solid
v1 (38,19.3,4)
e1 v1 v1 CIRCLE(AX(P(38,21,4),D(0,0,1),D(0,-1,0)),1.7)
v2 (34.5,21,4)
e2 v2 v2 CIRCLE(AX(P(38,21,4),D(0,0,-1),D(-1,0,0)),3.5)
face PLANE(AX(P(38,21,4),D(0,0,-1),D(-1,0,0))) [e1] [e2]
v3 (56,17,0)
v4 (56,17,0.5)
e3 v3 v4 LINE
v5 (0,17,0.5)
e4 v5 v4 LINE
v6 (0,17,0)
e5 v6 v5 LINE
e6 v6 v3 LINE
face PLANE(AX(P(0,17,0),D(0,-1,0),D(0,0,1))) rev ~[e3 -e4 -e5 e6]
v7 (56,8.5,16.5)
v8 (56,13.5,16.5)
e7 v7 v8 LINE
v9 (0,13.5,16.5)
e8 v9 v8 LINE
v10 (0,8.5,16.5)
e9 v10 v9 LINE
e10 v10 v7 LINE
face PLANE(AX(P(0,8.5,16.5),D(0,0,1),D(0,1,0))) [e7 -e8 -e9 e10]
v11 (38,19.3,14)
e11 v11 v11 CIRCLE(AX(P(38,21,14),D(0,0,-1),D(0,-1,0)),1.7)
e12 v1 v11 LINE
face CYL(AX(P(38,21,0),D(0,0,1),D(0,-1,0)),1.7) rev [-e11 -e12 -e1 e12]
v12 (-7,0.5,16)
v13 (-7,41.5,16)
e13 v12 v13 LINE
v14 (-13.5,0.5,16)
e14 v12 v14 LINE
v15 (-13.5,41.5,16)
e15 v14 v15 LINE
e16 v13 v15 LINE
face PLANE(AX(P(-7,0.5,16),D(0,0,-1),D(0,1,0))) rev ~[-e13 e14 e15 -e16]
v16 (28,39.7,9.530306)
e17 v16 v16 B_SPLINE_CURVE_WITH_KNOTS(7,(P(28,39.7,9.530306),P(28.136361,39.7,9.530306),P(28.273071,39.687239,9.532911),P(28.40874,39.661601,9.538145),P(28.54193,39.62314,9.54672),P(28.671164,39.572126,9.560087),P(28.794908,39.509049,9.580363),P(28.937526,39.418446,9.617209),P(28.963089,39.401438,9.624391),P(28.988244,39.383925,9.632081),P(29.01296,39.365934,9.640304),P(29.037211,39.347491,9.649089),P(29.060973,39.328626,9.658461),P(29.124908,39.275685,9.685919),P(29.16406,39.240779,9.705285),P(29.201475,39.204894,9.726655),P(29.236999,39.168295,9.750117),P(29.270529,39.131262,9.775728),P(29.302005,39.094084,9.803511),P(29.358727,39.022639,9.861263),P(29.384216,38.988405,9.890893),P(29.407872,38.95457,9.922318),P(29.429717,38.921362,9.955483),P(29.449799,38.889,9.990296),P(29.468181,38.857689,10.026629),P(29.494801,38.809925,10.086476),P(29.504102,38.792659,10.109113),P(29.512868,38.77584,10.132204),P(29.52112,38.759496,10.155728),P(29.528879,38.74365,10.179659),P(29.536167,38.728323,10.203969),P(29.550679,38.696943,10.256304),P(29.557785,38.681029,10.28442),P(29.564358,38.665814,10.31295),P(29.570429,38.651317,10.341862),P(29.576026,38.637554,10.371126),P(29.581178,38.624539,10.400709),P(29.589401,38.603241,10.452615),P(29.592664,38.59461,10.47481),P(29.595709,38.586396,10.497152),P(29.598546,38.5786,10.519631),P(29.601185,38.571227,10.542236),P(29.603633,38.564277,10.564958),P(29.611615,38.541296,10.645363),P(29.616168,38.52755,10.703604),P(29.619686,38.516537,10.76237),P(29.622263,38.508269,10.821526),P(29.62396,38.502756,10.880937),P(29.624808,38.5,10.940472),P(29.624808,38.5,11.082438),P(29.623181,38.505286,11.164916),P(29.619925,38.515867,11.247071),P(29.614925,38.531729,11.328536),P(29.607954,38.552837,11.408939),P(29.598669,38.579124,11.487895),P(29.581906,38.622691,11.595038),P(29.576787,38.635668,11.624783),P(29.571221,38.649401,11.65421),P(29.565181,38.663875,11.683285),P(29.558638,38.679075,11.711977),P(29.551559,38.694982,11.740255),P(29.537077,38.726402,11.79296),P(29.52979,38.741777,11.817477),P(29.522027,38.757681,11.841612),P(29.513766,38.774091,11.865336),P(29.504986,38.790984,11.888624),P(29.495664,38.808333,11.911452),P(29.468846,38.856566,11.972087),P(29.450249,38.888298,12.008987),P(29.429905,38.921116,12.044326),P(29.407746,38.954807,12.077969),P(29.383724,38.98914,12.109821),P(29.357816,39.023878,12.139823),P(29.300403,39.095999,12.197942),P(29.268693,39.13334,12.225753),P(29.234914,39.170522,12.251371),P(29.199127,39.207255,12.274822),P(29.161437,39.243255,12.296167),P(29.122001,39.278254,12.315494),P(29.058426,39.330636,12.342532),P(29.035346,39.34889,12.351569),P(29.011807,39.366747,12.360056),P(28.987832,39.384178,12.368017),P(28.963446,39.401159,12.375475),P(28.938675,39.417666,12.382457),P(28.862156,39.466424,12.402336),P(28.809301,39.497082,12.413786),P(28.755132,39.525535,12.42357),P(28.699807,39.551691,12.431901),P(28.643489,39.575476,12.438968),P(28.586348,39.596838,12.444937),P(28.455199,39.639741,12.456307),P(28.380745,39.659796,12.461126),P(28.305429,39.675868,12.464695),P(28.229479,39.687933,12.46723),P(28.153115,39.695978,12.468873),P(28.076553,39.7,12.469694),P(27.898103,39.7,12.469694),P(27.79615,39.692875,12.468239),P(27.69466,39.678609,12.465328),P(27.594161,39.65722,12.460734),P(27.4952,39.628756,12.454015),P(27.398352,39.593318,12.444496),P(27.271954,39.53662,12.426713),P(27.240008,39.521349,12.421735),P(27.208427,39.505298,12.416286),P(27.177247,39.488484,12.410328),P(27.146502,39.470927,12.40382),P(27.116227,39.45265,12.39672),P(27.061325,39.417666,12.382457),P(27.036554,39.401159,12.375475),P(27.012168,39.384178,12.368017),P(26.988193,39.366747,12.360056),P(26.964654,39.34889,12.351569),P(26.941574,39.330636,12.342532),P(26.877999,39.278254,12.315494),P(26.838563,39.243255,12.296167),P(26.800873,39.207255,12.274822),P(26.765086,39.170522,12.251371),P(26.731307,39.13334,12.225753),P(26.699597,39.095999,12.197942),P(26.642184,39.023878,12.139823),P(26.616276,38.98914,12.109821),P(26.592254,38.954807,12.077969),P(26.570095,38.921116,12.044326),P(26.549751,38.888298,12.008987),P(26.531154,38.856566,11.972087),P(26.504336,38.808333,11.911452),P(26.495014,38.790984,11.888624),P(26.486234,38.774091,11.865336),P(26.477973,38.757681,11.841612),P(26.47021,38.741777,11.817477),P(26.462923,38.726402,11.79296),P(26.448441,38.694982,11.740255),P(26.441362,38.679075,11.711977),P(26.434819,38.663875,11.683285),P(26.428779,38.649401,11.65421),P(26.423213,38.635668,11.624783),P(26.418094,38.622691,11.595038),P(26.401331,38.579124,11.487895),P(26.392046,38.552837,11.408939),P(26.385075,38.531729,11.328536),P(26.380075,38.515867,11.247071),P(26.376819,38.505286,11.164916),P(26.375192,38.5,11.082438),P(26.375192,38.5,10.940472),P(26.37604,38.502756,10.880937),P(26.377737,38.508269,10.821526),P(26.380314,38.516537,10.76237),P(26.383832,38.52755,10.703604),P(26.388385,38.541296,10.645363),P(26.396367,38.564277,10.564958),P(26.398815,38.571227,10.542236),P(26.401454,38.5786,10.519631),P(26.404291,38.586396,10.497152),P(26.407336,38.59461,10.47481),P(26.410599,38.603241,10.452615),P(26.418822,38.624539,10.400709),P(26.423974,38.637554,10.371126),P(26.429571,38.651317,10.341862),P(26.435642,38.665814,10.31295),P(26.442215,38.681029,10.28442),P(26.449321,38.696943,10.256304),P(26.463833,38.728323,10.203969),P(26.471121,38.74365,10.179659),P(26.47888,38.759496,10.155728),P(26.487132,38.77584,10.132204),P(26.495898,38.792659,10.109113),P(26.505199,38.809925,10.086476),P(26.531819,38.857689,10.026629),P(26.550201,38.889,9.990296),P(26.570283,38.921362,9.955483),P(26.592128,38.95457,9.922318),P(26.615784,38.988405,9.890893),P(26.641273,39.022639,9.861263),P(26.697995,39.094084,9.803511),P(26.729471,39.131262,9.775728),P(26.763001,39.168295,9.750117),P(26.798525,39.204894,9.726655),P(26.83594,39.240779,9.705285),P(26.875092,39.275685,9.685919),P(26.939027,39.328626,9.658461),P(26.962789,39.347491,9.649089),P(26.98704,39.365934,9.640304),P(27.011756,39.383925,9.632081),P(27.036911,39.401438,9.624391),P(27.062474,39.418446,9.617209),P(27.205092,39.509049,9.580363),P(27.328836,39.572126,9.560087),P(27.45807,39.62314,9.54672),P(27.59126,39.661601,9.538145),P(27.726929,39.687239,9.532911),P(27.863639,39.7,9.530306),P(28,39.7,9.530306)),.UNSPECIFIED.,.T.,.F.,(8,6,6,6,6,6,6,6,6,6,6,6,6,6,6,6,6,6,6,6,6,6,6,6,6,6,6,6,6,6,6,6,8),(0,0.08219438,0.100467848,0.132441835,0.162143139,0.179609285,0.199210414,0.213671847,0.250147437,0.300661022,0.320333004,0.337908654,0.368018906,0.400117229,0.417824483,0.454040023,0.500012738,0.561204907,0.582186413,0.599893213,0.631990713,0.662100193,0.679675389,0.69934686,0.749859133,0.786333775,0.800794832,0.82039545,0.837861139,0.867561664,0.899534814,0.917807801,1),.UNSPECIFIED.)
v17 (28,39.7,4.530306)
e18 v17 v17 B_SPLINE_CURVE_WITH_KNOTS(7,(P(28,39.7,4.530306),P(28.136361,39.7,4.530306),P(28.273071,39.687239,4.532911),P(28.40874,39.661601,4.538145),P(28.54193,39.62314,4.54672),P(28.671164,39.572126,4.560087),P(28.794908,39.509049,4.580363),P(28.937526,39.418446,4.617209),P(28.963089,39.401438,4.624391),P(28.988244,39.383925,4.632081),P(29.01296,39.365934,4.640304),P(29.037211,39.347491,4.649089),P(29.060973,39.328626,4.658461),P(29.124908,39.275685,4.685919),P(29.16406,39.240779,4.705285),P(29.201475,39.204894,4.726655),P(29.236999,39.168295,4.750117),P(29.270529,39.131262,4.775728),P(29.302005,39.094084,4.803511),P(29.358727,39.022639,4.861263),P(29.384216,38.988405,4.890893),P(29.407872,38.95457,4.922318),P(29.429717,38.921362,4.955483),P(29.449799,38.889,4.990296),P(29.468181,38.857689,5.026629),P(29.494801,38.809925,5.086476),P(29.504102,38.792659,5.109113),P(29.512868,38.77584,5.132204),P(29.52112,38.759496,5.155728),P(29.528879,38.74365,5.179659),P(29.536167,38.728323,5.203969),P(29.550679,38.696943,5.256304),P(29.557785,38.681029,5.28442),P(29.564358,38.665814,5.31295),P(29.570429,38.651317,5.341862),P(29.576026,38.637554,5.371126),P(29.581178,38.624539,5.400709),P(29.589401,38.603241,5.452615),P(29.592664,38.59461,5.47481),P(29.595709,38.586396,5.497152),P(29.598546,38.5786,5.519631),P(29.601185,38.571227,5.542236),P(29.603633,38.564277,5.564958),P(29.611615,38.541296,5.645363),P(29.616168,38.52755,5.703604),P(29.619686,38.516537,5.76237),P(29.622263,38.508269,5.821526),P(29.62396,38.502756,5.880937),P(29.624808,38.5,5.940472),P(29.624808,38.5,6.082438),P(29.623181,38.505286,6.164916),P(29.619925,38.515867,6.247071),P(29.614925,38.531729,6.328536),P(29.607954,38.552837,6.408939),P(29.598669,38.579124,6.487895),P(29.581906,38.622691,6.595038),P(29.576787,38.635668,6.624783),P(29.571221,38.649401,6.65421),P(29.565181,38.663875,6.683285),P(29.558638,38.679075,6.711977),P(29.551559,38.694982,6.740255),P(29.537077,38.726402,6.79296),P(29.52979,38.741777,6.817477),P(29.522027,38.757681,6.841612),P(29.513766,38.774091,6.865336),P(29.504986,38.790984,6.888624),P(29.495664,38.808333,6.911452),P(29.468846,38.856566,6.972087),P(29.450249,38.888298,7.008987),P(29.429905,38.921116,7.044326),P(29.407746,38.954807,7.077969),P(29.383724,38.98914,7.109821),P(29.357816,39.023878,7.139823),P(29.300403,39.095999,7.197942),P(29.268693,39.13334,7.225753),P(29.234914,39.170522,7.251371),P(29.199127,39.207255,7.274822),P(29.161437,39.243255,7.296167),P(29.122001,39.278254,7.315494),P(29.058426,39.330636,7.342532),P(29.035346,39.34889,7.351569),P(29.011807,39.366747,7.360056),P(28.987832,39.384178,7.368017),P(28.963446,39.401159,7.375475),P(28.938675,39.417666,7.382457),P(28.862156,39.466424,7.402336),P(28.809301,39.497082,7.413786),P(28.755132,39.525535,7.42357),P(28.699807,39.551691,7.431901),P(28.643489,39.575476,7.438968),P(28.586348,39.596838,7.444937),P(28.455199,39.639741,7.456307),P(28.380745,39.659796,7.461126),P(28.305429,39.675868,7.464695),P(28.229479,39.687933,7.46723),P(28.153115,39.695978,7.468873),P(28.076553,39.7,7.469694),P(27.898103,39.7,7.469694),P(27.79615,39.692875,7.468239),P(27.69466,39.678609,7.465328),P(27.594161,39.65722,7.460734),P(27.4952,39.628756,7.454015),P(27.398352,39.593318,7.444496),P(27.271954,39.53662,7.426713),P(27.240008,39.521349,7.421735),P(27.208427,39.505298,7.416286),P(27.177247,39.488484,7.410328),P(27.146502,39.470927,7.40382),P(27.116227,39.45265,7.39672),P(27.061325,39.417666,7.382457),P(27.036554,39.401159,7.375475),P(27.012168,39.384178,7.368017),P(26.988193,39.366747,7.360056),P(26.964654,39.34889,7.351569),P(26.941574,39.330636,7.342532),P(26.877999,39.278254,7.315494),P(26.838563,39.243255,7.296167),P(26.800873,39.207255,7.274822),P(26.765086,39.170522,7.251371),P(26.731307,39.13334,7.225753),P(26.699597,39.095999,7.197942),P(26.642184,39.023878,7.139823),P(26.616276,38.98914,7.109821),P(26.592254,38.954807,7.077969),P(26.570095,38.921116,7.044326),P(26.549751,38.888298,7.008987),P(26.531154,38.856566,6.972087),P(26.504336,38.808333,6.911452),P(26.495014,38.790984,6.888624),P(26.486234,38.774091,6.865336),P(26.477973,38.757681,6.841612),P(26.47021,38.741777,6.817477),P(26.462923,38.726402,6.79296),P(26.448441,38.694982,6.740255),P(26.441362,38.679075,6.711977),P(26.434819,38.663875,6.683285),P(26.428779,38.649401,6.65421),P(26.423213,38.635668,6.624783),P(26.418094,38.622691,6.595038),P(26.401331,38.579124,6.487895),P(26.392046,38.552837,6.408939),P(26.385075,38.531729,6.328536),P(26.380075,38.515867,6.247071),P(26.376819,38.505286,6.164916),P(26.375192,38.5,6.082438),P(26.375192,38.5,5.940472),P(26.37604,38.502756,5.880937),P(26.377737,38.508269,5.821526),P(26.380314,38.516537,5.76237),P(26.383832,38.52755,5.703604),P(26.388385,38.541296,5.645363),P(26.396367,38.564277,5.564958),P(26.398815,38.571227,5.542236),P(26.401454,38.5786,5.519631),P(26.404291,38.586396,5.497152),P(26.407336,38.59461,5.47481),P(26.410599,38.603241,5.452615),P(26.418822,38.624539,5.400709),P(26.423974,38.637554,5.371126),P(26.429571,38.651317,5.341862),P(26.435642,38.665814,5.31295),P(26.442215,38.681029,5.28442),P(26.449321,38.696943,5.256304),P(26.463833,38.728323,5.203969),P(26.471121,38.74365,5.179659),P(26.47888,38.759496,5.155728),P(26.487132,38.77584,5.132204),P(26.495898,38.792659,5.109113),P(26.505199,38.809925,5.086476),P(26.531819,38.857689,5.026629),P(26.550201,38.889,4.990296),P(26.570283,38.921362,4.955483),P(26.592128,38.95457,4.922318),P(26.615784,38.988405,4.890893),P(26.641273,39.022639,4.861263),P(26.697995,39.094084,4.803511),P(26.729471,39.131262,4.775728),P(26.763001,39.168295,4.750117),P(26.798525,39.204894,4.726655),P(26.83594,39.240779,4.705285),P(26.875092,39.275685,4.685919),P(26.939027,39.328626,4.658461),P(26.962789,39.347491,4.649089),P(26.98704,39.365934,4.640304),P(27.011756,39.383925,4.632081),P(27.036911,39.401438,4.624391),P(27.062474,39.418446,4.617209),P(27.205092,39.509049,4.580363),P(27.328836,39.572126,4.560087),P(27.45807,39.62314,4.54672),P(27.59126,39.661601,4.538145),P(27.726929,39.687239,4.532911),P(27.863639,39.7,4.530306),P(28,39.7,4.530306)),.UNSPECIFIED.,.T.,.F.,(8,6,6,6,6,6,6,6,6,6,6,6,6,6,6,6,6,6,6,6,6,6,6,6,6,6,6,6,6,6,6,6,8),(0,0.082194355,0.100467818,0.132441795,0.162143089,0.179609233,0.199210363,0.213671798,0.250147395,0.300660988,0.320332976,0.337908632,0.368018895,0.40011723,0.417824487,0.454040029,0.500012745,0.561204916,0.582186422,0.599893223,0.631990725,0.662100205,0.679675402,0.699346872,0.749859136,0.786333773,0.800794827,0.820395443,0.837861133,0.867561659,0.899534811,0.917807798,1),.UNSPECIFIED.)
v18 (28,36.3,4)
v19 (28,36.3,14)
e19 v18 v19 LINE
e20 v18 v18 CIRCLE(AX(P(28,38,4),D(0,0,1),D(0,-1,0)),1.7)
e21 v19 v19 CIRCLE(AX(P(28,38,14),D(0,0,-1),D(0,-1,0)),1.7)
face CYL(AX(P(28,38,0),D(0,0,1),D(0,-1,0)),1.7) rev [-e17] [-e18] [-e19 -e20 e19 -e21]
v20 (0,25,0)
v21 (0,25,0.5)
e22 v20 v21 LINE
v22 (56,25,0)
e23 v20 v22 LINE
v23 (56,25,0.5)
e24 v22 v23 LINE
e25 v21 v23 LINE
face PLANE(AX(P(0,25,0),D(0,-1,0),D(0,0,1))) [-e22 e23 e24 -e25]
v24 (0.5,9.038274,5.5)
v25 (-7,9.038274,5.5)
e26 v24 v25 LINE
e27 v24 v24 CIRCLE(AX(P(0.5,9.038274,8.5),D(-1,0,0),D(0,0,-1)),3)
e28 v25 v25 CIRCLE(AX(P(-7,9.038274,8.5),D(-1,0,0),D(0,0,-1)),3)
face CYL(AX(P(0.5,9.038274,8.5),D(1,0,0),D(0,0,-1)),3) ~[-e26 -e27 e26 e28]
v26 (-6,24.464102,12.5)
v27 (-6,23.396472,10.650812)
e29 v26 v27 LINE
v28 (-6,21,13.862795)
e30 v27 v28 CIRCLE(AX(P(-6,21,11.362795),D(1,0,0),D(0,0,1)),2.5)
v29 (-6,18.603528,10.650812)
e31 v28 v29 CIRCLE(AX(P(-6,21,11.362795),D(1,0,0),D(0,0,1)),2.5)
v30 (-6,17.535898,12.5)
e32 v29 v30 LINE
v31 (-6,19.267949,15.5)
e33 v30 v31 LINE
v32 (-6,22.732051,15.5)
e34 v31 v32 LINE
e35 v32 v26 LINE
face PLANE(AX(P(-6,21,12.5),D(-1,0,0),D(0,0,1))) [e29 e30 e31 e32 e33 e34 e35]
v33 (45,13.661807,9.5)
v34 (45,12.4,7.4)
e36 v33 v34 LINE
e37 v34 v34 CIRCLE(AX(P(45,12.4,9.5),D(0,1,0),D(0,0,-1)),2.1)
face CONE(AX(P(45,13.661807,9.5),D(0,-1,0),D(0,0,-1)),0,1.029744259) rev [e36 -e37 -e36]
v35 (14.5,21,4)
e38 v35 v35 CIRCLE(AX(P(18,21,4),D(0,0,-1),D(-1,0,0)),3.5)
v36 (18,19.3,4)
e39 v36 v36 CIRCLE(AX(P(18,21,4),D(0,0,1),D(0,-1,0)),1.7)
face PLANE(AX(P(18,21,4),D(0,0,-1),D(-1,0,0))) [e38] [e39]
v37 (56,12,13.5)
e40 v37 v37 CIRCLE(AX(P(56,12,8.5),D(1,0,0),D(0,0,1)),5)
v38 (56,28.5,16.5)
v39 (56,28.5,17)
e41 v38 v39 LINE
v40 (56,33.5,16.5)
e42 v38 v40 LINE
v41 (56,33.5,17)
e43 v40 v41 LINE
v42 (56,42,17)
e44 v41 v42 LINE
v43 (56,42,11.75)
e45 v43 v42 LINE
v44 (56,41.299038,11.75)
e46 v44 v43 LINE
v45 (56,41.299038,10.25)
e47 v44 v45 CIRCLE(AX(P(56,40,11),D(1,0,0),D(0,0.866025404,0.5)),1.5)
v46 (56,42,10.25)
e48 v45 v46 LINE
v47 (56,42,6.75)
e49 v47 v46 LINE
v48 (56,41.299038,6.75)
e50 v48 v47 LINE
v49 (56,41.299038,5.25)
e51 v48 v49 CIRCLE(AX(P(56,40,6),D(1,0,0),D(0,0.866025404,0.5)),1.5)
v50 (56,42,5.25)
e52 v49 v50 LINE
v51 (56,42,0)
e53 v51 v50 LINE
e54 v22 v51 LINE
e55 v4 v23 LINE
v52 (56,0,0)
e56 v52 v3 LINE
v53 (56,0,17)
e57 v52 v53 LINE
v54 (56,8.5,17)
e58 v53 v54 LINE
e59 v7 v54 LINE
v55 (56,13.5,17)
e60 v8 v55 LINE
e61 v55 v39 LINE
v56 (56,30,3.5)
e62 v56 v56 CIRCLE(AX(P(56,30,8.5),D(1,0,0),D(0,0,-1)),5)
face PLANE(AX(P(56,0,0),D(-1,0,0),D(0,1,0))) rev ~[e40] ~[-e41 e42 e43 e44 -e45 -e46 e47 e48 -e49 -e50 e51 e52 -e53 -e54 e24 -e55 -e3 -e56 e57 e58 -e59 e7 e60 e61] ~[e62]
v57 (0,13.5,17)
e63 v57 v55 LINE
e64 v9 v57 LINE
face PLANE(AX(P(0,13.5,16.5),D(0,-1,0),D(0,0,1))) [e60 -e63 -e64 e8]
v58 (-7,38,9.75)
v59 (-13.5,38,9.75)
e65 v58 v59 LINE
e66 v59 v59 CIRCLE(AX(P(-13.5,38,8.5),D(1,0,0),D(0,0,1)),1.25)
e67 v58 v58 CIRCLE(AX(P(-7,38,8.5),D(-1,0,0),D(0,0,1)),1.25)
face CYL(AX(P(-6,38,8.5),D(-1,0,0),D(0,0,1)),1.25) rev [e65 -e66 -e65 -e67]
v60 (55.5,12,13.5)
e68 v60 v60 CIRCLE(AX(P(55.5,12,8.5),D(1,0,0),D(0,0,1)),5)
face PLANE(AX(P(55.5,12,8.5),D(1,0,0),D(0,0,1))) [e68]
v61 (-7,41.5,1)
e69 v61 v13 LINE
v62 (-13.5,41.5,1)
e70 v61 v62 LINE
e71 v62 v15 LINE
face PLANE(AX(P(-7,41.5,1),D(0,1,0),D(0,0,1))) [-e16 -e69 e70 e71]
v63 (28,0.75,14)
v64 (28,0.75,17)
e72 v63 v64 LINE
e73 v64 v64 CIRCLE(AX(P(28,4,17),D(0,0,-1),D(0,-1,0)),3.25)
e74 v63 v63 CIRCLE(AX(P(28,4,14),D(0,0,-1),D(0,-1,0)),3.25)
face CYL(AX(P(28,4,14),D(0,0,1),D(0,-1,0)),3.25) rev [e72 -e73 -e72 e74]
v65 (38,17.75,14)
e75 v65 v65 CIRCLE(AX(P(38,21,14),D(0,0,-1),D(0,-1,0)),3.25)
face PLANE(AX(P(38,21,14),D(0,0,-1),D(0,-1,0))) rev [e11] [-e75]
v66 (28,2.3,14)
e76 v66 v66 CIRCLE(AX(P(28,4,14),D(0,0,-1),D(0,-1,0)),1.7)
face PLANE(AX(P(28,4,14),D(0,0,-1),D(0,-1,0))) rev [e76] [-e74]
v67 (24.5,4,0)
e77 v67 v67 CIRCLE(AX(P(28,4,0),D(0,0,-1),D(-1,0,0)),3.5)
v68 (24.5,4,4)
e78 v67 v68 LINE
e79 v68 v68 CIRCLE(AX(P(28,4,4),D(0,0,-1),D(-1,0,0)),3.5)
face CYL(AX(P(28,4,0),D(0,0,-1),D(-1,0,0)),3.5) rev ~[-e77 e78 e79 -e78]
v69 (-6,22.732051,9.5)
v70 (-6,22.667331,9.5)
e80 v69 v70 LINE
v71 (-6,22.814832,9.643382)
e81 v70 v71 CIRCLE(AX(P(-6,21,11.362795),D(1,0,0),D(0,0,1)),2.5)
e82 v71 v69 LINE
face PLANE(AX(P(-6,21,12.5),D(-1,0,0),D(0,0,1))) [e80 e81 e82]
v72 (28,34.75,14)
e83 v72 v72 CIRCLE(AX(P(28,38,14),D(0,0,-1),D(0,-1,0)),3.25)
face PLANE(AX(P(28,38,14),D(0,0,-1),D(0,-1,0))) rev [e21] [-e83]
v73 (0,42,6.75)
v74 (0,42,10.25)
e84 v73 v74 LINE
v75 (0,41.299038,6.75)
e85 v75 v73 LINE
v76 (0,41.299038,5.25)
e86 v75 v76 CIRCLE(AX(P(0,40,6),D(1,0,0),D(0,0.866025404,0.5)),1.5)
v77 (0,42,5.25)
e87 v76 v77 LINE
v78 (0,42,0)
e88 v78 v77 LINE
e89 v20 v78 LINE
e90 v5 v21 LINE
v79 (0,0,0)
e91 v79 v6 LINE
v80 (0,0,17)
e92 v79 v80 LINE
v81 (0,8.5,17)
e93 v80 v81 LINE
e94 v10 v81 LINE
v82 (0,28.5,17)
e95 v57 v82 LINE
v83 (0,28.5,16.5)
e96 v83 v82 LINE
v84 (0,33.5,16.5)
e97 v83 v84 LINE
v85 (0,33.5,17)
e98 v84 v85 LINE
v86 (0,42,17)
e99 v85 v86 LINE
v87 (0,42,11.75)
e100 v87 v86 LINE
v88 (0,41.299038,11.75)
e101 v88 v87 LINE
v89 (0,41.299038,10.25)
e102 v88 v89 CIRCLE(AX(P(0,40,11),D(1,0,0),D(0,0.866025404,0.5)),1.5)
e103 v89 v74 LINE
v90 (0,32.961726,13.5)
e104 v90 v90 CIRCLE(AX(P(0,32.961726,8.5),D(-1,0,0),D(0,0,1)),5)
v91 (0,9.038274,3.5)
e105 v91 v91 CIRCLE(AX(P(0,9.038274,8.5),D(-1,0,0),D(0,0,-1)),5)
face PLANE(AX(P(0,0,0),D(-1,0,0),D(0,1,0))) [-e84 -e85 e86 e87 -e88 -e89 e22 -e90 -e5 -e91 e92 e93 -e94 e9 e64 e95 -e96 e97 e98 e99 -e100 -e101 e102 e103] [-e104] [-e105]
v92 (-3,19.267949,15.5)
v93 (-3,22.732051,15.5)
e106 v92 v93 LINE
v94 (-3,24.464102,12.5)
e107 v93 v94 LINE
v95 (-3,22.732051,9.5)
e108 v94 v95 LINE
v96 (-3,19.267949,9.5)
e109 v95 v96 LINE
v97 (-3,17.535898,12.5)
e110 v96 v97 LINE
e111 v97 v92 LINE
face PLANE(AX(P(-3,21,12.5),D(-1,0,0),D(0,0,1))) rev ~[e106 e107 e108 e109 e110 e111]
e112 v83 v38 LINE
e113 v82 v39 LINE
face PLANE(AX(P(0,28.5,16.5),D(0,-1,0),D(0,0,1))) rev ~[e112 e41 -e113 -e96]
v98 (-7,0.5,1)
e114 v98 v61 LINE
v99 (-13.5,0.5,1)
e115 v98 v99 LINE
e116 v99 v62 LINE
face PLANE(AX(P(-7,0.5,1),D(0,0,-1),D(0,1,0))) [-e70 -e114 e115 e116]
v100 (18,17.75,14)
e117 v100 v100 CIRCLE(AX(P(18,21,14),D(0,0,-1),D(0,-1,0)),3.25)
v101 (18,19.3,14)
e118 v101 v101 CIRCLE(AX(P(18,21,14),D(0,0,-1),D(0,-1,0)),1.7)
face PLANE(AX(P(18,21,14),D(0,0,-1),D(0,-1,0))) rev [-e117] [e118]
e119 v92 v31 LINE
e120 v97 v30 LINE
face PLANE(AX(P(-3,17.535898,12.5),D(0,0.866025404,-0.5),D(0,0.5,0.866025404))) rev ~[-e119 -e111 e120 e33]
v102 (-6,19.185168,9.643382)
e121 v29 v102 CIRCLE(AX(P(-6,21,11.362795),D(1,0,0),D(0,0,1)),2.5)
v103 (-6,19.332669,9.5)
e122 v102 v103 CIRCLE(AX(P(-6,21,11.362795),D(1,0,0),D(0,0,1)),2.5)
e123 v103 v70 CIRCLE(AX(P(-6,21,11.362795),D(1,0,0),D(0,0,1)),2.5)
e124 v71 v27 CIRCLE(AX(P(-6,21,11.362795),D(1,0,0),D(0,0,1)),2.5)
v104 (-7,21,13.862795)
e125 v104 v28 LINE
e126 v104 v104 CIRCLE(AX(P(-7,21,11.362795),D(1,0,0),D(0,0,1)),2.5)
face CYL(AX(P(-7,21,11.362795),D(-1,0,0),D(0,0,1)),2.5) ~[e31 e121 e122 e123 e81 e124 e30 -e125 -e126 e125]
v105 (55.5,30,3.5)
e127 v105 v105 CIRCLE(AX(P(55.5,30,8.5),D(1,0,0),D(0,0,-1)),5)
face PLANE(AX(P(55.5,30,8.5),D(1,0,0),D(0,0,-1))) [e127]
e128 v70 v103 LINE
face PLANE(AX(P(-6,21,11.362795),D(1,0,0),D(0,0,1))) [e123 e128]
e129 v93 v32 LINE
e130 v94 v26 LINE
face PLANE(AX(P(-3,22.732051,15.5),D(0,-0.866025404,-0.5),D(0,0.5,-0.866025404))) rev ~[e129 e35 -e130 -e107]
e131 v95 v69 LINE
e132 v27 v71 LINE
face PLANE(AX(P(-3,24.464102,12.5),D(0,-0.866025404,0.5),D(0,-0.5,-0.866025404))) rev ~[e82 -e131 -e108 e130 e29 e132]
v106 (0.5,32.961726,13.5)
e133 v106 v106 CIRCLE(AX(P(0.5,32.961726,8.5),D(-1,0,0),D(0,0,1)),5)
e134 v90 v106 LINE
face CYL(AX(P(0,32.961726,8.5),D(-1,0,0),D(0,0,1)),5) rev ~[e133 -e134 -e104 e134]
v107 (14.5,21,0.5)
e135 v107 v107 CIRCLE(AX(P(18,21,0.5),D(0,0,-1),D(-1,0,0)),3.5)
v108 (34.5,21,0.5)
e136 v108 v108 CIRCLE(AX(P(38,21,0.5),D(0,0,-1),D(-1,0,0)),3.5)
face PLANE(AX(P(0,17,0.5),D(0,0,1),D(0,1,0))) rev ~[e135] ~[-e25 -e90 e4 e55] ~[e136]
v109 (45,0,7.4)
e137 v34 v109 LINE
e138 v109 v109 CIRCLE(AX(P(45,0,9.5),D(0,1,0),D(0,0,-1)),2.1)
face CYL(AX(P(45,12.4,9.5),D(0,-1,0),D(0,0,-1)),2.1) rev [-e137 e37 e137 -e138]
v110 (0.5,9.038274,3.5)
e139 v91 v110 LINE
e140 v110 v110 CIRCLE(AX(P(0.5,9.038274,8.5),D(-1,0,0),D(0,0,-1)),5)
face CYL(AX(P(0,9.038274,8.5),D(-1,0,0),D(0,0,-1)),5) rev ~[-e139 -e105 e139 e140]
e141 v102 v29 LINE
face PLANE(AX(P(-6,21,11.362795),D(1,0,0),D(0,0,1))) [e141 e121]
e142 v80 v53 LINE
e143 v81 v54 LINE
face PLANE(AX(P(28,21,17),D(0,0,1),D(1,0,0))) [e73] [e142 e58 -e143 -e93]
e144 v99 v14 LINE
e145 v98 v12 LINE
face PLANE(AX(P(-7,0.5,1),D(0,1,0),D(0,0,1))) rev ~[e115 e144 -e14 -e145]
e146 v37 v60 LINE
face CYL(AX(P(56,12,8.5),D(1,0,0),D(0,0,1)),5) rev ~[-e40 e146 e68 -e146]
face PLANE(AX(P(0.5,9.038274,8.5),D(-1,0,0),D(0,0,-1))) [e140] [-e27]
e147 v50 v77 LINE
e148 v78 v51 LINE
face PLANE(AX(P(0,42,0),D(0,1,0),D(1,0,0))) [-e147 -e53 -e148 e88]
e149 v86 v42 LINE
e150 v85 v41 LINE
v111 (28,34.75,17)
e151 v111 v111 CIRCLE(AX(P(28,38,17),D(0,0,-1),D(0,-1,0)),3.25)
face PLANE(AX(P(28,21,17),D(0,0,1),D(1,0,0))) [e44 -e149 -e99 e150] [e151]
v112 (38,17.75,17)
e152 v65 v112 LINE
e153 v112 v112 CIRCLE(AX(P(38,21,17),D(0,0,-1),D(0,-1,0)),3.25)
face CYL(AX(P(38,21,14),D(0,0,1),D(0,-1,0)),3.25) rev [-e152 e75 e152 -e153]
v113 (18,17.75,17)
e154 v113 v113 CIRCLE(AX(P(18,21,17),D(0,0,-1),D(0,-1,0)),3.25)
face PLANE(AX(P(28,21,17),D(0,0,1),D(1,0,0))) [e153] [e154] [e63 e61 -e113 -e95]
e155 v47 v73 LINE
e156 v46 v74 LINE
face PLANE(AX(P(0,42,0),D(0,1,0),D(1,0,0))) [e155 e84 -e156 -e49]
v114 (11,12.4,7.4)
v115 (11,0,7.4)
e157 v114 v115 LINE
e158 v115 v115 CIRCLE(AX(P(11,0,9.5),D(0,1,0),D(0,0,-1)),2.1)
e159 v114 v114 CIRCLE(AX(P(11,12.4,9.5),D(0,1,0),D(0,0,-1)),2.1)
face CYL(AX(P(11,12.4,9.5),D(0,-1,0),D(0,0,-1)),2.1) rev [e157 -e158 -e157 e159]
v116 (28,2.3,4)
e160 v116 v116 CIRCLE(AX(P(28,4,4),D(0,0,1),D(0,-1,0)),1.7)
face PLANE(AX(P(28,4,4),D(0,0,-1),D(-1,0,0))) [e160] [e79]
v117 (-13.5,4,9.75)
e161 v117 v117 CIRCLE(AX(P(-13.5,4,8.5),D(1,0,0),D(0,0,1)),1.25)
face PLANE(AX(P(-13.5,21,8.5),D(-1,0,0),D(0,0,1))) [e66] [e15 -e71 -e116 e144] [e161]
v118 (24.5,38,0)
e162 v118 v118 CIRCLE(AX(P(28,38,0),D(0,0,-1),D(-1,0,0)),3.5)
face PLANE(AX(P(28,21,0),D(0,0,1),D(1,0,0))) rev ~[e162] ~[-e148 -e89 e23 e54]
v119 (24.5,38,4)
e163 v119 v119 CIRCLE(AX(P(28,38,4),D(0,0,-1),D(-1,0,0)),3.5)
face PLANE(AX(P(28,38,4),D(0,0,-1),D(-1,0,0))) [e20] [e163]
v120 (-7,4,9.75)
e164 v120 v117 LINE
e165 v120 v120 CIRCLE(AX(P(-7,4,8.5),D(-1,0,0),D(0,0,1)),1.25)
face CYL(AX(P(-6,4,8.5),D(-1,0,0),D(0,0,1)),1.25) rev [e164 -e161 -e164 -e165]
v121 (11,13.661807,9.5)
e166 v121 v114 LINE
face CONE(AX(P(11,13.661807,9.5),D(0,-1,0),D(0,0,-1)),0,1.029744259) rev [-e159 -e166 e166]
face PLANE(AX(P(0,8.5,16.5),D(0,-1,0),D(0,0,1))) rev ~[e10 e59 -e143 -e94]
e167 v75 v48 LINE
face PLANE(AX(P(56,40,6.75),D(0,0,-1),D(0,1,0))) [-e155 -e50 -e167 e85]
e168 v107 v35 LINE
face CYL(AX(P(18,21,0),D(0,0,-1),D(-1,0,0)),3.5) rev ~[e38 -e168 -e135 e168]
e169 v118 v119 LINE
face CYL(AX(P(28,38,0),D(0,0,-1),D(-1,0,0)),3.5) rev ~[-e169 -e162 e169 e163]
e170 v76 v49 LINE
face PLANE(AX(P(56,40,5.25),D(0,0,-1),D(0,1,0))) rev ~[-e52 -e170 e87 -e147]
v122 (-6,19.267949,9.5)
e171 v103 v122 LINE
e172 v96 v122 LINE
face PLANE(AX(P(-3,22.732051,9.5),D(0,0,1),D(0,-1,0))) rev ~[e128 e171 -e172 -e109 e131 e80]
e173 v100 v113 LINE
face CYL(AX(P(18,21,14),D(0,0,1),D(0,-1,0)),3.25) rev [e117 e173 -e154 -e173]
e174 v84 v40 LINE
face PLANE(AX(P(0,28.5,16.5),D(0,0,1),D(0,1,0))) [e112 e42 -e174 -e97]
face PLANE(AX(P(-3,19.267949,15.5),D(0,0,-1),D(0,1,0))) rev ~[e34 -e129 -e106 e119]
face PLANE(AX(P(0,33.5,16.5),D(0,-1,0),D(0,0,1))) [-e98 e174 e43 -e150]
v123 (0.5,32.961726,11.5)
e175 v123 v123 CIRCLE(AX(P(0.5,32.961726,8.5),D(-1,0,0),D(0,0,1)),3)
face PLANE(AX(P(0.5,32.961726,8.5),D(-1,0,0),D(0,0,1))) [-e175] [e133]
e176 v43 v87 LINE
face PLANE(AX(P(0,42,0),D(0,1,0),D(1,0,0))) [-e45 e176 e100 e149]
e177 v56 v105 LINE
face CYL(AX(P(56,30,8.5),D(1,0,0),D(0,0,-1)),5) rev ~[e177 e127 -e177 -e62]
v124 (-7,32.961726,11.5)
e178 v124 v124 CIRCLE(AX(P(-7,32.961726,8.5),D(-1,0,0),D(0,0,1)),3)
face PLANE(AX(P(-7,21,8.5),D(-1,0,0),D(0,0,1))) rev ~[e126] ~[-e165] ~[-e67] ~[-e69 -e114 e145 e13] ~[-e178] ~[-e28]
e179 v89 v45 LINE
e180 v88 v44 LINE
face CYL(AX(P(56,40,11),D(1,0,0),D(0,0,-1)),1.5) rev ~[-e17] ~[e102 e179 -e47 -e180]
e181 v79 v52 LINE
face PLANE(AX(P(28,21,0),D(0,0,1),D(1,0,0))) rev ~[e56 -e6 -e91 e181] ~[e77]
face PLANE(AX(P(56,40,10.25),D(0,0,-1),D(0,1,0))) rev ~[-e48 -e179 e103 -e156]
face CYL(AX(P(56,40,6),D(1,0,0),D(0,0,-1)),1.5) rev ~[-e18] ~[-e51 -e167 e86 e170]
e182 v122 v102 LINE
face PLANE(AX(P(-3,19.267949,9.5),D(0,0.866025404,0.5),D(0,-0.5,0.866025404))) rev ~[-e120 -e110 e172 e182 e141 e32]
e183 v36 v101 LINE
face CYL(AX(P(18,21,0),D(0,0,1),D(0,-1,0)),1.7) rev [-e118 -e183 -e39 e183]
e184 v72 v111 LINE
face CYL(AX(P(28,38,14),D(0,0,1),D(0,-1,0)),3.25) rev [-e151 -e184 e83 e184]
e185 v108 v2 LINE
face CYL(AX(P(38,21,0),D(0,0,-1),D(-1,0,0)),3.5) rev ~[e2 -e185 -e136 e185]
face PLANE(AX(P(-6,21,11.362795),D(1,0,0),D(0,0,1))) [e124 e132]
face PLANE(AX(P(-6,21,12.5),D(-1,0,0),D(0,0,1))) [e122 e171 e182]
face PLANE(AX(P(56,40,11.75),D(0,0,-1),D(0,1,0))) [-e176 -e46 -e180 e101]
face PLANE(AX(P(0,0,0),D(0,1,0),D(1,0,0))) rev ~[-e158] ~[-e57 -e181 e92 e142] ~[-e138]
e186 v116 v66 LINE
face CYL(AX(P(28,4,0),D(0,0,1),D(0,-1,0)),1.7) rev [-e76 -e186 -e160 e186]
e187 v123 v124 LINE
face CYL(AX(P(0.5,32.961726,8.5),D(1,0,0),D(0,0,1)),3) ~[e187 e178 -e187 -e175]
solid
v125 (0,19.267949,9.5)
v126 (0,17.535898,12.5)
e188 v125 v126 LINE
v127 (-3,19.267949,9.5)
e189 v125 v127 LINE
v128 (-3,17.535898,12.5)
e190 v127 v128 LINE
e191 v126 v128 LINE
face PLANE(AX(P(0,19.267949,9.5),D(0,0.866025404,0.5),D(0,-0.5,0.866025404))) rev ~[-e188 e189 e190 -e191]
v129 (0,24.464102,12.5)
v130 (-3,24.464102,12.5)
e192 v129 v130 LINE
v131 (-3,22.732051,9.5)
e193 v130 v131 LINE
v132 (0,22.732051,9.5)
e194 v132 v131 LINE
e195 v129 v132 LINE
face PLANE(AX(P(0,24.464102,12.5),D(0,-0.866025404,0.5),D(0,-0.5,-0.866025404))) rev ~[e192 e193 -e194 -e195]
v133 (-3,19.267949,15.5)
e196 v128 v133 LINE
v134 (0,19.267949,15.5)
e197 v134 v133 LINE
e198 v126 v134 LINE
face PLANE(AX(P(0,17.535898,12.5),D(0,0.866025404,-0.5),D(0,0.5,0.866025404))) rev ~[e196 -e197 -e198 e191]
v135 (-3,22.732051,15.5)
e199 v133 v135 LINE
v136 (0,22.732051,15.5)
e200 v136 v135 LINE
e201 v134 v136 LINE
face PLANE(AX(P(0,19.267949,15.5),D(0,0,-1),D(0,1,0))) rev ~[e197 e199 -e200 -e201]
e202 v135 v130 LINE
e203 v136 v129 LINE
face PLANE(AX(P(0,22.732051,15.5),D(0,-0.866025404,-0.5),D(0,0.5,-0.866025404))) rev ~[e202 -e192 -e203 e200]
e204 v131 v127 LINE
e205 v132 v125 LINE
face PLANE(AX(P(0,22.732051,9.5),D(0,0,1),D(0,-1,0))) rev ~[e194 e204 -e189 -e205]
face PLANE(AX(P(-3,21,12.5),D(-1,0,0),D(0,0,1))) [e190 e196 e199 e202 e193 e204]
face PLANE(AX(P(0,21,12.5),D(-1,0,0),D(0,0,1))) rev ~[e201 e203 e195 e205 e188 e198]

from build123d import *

# Parameters (mm, degrees)
SKETCH_1_W                    = 56
SKETCH_1_H                    = 42
EXTRUDE_1_DEPTH               = 17
EXTRUDE_2_DEPTH               = 3
EXTRUDE_3_DEPTH               = 3
SKETCH_5_R                    = 5
CUT_EXTRUDE_1_DEPTH           = 0.5
SKETCH_6_R                    = 5
CUT_EXTRUDE_2_DEPTH           = 0.5
SKETCH_7_R                    = 3
EXTRUDE_4_DEPTH               = 7.5
SKETCH_8_W                    = 15
SKETCH_8_H                    = 41
EXTRUDE_5_DEPTH               = 6.5
SKETCH_9_R                    = 2.5
EXTRUDE_6_DEPTH               = 1
HOLE_WIZARD_M3_1_AT_2_COUNT   = 2
HOLE_WIZARD_M3_1_AT_2_PITCH   = 34
SKETCH_13_R                   = 1.5
CUT_EXTRUDE_3_DEPTH           = 56
SKETCH_14_W                   = 1.5
SKETCH_14_H                   = 2
CUT_EXTRUDE_4_DEPTH           = 56
HOLE_WIZARD_M5_1_AT_2_COUNT   = 2
HOLE_WIZARD_M5_1_AT_2_PITCH   = 34
SKETCH_17_W                   = 0.5
SKETCH_17_H                   = 8
SKETCH_17_H_2                 = 5
CUT_EXTRUDE_5_DEPTH           = 56
HOLE_WIZARD_M3_1_2_AT_2_COUNT = 2
HOLE_WIZARD_M3_1_2_AT_2_PITCH = 19.723082923
HOLE_WIZARD_M3_1_2_AT_3_COUNT = 2
HOLE_WIZARD_M3_1_2_AT_3_PITCH = 19.723082923
HOLE_WIZARD_M3_1_2_AT_4_COUNT = 2
HOLE_WIZARD_M3_1_2_AT_4_PITCH = 20
SKETCH_22_R                   = 3.5
CUT_EXTRUDE_10_DEPTH          = 4


with BuildPart() as part:
    # 草图1 → 凸台-拉伸1 (new body)
    with BuildSketch(Plane.XY):
        with Locations((28, 21)):
            Rectangle(SKETCH_1_W, SKETCH_1_H)
    extrude(amount=EXTRUDE_1_DEPTH)

    # 草图5 → 切除-拉伸1 (cut)
    with BuildSketch(Plane.ZY):
        with Locations((8.5, 32.961725646)):
            Circle(SKETCH_5_R)
        with Locations(Location((8.5, 9.038274354, 0), (0, 0, 180))):
            Circle(SKETCH_5_R)
    extrude(amount=-CUT_EXTRUDE_1_DEPTH, mode=Mode.SUBTRACT)

    # 草图6 → 切除-拉伸2 (cut)
    with BuildSketch(Plane(origin=(56, 0, 0), x_dir=(0, 0, -1), z_dir=(1, 0, 0))):
        with Locations((-8.5, 30)):
            Circle(SKETCH_6_R)
        with Locations(Location((-8.5, 12, 0), (0, 0, 180))):
            Circle(SKETCH_6_R)
    extrude(amount=-CUT_EXTRUDE_2_DEPTH, mode=Mode.SUBTRACT)

    # 草图7 → 凸台-拉伸4 (add)
    with BuildSketch(Plane.ZY.offset(-0.5)):
        with Locations((8.5, 32.961725646)):
            Circle(SKETCH_7_R)
        with Locations(Location((8.5, 9.038274354, 0), (0, 0, 180))):
            Circle(SKETCH_7_R)
    extrude(amount=EXTRUDE_4_DEPTH)

    # 草图8 → 凸台-拉伸5 (add)
    with BuildSketch(Plane.ZY.offset(7)):
        with Locations((8.5, 21)):
            Rectangle(SKETCH_8_W, SKETCH_8_H)
    extrude(amount=EXTRUDE_5_DEPTH)



with BuildPart() as body_2:
    # 草图2 → 凸台-拉伸2 (new body)
    with BuildSketch(Plane.ZY):
        Polygon((15.5, 19.267949192), (15.5, 22.732050808), (12.5, 24.464101615), (9.5, 22.732050808), (9.5, 19.267949192), (12.5, 17.535898385), align=None)
    extrude(amount=EXTRUDE_2_DEPTH)


with BuildPart() as body_3:
    # 草图4 → 凸台-拉伸3 (new body)
    with BuildSketch(Plane.ZY.offset(3)):
        Polygon((15.5, 19.267949192), (15.5, 22.732050808), (12.5, 24.464101615), (9.5, 22.732050808), (9.5, 19.267949192), (12.5, 17.535898385), align=None)
    extrude(amount=EXTRUDE_3_DEPTH)


with BuildPart() as part_1:
    add(part.part)

    add(body_3.part)  # 凸台-拉伸6 merges body 3
    # 草图9 → 凸台-拉伸6 (add)
    with BuildSketch(Plane(origin=(-7, 0, 0), x_dir=(0, 0, -1), z_dir=(1, 0, 0))):
        with Locations(Location((-11.362795448, 21, 0), (0, 0, 180))):
            Circle(SKETCH_9_R)
    extrude(amount=EXTRUDE_6_DEPTH)

    # 草图11 → Hole Wizard M3 _1 (revolve, cut)
    with BuildSketch(Plane(origin=(-13.5, 38, 8.5), x_dir=(0, 0, 1), z_dir=(0, 1, 0))):
        Polygon((0, 0), (0, 8.251075774), (1.25, 7.5), (1.25, 0), align=None)
    hole_wizard_m3_1 = revolve(axis=Axis((-19.85, 38, 8.5), (1, 0, 0)), mode=Mode.SUBTRACT)

    # Hole Wizard M3 _1 at 2: Hole Wizard M3 _1 ×2
    with Locations(*[(0, -i * HOLE_WIZARD_M3_1_AT_2_PITCH, 0) for i in range(1, HOLE_WIZARD_M3_1_AT_2_COUNT)]):
        add(hole_wizard_m3_1, mode=Mode.SUBTRACT)

    # 草图13 → 切除-拉伸3 (cut)
    with BuildSketch(Plane(origin=(56, 0, 0), x_dir=(0, 0, -1), z_dir=(1, 0, 0))):
        with Locations((-11, 40)):
            Circle(SKETCH_13_R)
        with Locations((-6, 40)):
            Circle(SKETCH_13_R)
    extrude(amount=-CUT_EXTRUDE_3_DEPTH, mode=Mode.SUBTRACT)

    # 草图14 → 切除-拉伸4 (cut)
    with BuildSketch(Plane(origin=(56, 0, 0), x_dir=(0, 0, -1), z_dir=(1, 0, 0))):
        with Locations((-11, 41)):
            Rectangle(SKETCH_14_W, SKETCH_14_H)
        with Locations((-6, 41)):
            Rectangle(SKETCH_14_W, SKETCH_14_H)
    extrude(amount=-CUT_EXTRUDE_4_DEPTH, mode=Mode.SUBTRACT)

    # 草图15 → M5 螺纹孔1 (revolve, cut)
    with BuildSketch(Plane(origin=(11, 0, 9.5), x_dir=(0, 0, -1), z_dir=(1, 0, 0))):
        Polygon((0, 0), (0, 13.6618073), (2.1, 12.4), (2.1, 0), align=None)
    hole_wizard_m5_1 = revolve(axis=Axis((11, -6.35, 9.5), (0, 1, 0)), mode=Mode.SUBTRACT)

    # M5 螺纹孔1 at 2: M5 螺纹孔1 ×2
    with Locations(*[(i * HOLE_WIZARD_M5_1_AT_2_PITCH, 0, 0) for i in range(1, HOLE_WIZARD_M5_1_AT_2_COUNT)]):
        add(hole_wizard_m5_1, mode=Mode.SUBTRACT)

    # 草图17 → 切除-拉伸5 (cut)
    with BuildSketch(Plane.ZY):
        with Locations((0.25, 21)):
            Rectangle(SKETCH_17_W, SKETCH_17_H)
        with Locations((16.75, 31)):
            Rectangle(SKETCH_17_W, SKETCH_17_H_2)
        with Locations((16.75, 11)):
            Rectangle(SKETCH_17_W, SKETCH_17_H_2)
    extrude(amount=-CUT_EXTRUDE_5_DEPTH, mode=Mode.SUBTRACT)

    # 草图20 → Hole Wizard M3 _1 2 (revolve, cut)
    with BuildSketch(Plane(origin=(18, 21, 17), x_dir=(0, -1, 0), z_dir=(1, 0, 0))):
        Polygon((0, 0), (0, 17), (1.7, 17), (1.7, 3), (3.25, 3), (3.25, 0), align=None)
    hole_wizard_m3_1_2 = revolve(axis=Axis((18, 21, 23.35), (0, 0, -1)), mode=Mode.SUBTRACT)

    # Hole Wizard M3 _1 2 at 2: Hole Wizard M3 _1 2 ×2
    with Locations(*[Vector(0.5070201265633938, 0.8619342151577696, 0) * (i * HOLE_WIZARD_M3_1_2_AT_2_PITCH) for i in range(1, HOLE_WIZARD_M3_1_2_AT_2_COUNT)]):
        add(hole_wizard_m3_1_2, mode=Mode.SUBTRACT)

    # Hole Wizard M3 _1 2 at 3: Hole Wizard M3 _1 2 ×2
    with Locations(*[Vector(0.5070201265633939, -0.8619342151577696, 0) * (i * HOLE_WIZARD_M3_1_2_AT_3_PITCH) for i in range(1, HOLE_WIZARD_M3_1_2_AT_3_COUNT)]):
        add(hole_wizard_m3_1_2, mode=Mode.SUBTRACT)

    # Hole Wizard M3 _1 2 at 4: Hole Wizard M3 _1 2 ×2
    with Locations(*[(i * HOLE_WIZARD_M3_1_2_AT_4_PITCH, 0, 0) for i in range(1, HOLE_WIZARD_M3_1_2_AT_4_COUNT)]):
        add(hole_wizard_m3_1_2, mode=Mode.SUBTRACT)

    # 草图22 → 切除-拉伸10 (cut)
    with BuildSketch(Plane(origin=(0, 0, 0), x_dir=(-1, 0, 0), z_dir=(0, 0, -1))):
        with Locations((-28, 38)):
            Circle(SKETCH_22_R)
        with Locations((-18, 21)):
            Circle(SKETCH_22_R)
        with Locations((-38, 21)):
            Circle(SKETCH_22_R)
        with Locations((-28, 4)):
            Circle(SKETCH_22_R)
    extrude(amount=-CUT_EXTRUDE_10_DEPTH, mode=Mode.SUBTRACT)


solid = Compound([body_2.part, part_1.part])
